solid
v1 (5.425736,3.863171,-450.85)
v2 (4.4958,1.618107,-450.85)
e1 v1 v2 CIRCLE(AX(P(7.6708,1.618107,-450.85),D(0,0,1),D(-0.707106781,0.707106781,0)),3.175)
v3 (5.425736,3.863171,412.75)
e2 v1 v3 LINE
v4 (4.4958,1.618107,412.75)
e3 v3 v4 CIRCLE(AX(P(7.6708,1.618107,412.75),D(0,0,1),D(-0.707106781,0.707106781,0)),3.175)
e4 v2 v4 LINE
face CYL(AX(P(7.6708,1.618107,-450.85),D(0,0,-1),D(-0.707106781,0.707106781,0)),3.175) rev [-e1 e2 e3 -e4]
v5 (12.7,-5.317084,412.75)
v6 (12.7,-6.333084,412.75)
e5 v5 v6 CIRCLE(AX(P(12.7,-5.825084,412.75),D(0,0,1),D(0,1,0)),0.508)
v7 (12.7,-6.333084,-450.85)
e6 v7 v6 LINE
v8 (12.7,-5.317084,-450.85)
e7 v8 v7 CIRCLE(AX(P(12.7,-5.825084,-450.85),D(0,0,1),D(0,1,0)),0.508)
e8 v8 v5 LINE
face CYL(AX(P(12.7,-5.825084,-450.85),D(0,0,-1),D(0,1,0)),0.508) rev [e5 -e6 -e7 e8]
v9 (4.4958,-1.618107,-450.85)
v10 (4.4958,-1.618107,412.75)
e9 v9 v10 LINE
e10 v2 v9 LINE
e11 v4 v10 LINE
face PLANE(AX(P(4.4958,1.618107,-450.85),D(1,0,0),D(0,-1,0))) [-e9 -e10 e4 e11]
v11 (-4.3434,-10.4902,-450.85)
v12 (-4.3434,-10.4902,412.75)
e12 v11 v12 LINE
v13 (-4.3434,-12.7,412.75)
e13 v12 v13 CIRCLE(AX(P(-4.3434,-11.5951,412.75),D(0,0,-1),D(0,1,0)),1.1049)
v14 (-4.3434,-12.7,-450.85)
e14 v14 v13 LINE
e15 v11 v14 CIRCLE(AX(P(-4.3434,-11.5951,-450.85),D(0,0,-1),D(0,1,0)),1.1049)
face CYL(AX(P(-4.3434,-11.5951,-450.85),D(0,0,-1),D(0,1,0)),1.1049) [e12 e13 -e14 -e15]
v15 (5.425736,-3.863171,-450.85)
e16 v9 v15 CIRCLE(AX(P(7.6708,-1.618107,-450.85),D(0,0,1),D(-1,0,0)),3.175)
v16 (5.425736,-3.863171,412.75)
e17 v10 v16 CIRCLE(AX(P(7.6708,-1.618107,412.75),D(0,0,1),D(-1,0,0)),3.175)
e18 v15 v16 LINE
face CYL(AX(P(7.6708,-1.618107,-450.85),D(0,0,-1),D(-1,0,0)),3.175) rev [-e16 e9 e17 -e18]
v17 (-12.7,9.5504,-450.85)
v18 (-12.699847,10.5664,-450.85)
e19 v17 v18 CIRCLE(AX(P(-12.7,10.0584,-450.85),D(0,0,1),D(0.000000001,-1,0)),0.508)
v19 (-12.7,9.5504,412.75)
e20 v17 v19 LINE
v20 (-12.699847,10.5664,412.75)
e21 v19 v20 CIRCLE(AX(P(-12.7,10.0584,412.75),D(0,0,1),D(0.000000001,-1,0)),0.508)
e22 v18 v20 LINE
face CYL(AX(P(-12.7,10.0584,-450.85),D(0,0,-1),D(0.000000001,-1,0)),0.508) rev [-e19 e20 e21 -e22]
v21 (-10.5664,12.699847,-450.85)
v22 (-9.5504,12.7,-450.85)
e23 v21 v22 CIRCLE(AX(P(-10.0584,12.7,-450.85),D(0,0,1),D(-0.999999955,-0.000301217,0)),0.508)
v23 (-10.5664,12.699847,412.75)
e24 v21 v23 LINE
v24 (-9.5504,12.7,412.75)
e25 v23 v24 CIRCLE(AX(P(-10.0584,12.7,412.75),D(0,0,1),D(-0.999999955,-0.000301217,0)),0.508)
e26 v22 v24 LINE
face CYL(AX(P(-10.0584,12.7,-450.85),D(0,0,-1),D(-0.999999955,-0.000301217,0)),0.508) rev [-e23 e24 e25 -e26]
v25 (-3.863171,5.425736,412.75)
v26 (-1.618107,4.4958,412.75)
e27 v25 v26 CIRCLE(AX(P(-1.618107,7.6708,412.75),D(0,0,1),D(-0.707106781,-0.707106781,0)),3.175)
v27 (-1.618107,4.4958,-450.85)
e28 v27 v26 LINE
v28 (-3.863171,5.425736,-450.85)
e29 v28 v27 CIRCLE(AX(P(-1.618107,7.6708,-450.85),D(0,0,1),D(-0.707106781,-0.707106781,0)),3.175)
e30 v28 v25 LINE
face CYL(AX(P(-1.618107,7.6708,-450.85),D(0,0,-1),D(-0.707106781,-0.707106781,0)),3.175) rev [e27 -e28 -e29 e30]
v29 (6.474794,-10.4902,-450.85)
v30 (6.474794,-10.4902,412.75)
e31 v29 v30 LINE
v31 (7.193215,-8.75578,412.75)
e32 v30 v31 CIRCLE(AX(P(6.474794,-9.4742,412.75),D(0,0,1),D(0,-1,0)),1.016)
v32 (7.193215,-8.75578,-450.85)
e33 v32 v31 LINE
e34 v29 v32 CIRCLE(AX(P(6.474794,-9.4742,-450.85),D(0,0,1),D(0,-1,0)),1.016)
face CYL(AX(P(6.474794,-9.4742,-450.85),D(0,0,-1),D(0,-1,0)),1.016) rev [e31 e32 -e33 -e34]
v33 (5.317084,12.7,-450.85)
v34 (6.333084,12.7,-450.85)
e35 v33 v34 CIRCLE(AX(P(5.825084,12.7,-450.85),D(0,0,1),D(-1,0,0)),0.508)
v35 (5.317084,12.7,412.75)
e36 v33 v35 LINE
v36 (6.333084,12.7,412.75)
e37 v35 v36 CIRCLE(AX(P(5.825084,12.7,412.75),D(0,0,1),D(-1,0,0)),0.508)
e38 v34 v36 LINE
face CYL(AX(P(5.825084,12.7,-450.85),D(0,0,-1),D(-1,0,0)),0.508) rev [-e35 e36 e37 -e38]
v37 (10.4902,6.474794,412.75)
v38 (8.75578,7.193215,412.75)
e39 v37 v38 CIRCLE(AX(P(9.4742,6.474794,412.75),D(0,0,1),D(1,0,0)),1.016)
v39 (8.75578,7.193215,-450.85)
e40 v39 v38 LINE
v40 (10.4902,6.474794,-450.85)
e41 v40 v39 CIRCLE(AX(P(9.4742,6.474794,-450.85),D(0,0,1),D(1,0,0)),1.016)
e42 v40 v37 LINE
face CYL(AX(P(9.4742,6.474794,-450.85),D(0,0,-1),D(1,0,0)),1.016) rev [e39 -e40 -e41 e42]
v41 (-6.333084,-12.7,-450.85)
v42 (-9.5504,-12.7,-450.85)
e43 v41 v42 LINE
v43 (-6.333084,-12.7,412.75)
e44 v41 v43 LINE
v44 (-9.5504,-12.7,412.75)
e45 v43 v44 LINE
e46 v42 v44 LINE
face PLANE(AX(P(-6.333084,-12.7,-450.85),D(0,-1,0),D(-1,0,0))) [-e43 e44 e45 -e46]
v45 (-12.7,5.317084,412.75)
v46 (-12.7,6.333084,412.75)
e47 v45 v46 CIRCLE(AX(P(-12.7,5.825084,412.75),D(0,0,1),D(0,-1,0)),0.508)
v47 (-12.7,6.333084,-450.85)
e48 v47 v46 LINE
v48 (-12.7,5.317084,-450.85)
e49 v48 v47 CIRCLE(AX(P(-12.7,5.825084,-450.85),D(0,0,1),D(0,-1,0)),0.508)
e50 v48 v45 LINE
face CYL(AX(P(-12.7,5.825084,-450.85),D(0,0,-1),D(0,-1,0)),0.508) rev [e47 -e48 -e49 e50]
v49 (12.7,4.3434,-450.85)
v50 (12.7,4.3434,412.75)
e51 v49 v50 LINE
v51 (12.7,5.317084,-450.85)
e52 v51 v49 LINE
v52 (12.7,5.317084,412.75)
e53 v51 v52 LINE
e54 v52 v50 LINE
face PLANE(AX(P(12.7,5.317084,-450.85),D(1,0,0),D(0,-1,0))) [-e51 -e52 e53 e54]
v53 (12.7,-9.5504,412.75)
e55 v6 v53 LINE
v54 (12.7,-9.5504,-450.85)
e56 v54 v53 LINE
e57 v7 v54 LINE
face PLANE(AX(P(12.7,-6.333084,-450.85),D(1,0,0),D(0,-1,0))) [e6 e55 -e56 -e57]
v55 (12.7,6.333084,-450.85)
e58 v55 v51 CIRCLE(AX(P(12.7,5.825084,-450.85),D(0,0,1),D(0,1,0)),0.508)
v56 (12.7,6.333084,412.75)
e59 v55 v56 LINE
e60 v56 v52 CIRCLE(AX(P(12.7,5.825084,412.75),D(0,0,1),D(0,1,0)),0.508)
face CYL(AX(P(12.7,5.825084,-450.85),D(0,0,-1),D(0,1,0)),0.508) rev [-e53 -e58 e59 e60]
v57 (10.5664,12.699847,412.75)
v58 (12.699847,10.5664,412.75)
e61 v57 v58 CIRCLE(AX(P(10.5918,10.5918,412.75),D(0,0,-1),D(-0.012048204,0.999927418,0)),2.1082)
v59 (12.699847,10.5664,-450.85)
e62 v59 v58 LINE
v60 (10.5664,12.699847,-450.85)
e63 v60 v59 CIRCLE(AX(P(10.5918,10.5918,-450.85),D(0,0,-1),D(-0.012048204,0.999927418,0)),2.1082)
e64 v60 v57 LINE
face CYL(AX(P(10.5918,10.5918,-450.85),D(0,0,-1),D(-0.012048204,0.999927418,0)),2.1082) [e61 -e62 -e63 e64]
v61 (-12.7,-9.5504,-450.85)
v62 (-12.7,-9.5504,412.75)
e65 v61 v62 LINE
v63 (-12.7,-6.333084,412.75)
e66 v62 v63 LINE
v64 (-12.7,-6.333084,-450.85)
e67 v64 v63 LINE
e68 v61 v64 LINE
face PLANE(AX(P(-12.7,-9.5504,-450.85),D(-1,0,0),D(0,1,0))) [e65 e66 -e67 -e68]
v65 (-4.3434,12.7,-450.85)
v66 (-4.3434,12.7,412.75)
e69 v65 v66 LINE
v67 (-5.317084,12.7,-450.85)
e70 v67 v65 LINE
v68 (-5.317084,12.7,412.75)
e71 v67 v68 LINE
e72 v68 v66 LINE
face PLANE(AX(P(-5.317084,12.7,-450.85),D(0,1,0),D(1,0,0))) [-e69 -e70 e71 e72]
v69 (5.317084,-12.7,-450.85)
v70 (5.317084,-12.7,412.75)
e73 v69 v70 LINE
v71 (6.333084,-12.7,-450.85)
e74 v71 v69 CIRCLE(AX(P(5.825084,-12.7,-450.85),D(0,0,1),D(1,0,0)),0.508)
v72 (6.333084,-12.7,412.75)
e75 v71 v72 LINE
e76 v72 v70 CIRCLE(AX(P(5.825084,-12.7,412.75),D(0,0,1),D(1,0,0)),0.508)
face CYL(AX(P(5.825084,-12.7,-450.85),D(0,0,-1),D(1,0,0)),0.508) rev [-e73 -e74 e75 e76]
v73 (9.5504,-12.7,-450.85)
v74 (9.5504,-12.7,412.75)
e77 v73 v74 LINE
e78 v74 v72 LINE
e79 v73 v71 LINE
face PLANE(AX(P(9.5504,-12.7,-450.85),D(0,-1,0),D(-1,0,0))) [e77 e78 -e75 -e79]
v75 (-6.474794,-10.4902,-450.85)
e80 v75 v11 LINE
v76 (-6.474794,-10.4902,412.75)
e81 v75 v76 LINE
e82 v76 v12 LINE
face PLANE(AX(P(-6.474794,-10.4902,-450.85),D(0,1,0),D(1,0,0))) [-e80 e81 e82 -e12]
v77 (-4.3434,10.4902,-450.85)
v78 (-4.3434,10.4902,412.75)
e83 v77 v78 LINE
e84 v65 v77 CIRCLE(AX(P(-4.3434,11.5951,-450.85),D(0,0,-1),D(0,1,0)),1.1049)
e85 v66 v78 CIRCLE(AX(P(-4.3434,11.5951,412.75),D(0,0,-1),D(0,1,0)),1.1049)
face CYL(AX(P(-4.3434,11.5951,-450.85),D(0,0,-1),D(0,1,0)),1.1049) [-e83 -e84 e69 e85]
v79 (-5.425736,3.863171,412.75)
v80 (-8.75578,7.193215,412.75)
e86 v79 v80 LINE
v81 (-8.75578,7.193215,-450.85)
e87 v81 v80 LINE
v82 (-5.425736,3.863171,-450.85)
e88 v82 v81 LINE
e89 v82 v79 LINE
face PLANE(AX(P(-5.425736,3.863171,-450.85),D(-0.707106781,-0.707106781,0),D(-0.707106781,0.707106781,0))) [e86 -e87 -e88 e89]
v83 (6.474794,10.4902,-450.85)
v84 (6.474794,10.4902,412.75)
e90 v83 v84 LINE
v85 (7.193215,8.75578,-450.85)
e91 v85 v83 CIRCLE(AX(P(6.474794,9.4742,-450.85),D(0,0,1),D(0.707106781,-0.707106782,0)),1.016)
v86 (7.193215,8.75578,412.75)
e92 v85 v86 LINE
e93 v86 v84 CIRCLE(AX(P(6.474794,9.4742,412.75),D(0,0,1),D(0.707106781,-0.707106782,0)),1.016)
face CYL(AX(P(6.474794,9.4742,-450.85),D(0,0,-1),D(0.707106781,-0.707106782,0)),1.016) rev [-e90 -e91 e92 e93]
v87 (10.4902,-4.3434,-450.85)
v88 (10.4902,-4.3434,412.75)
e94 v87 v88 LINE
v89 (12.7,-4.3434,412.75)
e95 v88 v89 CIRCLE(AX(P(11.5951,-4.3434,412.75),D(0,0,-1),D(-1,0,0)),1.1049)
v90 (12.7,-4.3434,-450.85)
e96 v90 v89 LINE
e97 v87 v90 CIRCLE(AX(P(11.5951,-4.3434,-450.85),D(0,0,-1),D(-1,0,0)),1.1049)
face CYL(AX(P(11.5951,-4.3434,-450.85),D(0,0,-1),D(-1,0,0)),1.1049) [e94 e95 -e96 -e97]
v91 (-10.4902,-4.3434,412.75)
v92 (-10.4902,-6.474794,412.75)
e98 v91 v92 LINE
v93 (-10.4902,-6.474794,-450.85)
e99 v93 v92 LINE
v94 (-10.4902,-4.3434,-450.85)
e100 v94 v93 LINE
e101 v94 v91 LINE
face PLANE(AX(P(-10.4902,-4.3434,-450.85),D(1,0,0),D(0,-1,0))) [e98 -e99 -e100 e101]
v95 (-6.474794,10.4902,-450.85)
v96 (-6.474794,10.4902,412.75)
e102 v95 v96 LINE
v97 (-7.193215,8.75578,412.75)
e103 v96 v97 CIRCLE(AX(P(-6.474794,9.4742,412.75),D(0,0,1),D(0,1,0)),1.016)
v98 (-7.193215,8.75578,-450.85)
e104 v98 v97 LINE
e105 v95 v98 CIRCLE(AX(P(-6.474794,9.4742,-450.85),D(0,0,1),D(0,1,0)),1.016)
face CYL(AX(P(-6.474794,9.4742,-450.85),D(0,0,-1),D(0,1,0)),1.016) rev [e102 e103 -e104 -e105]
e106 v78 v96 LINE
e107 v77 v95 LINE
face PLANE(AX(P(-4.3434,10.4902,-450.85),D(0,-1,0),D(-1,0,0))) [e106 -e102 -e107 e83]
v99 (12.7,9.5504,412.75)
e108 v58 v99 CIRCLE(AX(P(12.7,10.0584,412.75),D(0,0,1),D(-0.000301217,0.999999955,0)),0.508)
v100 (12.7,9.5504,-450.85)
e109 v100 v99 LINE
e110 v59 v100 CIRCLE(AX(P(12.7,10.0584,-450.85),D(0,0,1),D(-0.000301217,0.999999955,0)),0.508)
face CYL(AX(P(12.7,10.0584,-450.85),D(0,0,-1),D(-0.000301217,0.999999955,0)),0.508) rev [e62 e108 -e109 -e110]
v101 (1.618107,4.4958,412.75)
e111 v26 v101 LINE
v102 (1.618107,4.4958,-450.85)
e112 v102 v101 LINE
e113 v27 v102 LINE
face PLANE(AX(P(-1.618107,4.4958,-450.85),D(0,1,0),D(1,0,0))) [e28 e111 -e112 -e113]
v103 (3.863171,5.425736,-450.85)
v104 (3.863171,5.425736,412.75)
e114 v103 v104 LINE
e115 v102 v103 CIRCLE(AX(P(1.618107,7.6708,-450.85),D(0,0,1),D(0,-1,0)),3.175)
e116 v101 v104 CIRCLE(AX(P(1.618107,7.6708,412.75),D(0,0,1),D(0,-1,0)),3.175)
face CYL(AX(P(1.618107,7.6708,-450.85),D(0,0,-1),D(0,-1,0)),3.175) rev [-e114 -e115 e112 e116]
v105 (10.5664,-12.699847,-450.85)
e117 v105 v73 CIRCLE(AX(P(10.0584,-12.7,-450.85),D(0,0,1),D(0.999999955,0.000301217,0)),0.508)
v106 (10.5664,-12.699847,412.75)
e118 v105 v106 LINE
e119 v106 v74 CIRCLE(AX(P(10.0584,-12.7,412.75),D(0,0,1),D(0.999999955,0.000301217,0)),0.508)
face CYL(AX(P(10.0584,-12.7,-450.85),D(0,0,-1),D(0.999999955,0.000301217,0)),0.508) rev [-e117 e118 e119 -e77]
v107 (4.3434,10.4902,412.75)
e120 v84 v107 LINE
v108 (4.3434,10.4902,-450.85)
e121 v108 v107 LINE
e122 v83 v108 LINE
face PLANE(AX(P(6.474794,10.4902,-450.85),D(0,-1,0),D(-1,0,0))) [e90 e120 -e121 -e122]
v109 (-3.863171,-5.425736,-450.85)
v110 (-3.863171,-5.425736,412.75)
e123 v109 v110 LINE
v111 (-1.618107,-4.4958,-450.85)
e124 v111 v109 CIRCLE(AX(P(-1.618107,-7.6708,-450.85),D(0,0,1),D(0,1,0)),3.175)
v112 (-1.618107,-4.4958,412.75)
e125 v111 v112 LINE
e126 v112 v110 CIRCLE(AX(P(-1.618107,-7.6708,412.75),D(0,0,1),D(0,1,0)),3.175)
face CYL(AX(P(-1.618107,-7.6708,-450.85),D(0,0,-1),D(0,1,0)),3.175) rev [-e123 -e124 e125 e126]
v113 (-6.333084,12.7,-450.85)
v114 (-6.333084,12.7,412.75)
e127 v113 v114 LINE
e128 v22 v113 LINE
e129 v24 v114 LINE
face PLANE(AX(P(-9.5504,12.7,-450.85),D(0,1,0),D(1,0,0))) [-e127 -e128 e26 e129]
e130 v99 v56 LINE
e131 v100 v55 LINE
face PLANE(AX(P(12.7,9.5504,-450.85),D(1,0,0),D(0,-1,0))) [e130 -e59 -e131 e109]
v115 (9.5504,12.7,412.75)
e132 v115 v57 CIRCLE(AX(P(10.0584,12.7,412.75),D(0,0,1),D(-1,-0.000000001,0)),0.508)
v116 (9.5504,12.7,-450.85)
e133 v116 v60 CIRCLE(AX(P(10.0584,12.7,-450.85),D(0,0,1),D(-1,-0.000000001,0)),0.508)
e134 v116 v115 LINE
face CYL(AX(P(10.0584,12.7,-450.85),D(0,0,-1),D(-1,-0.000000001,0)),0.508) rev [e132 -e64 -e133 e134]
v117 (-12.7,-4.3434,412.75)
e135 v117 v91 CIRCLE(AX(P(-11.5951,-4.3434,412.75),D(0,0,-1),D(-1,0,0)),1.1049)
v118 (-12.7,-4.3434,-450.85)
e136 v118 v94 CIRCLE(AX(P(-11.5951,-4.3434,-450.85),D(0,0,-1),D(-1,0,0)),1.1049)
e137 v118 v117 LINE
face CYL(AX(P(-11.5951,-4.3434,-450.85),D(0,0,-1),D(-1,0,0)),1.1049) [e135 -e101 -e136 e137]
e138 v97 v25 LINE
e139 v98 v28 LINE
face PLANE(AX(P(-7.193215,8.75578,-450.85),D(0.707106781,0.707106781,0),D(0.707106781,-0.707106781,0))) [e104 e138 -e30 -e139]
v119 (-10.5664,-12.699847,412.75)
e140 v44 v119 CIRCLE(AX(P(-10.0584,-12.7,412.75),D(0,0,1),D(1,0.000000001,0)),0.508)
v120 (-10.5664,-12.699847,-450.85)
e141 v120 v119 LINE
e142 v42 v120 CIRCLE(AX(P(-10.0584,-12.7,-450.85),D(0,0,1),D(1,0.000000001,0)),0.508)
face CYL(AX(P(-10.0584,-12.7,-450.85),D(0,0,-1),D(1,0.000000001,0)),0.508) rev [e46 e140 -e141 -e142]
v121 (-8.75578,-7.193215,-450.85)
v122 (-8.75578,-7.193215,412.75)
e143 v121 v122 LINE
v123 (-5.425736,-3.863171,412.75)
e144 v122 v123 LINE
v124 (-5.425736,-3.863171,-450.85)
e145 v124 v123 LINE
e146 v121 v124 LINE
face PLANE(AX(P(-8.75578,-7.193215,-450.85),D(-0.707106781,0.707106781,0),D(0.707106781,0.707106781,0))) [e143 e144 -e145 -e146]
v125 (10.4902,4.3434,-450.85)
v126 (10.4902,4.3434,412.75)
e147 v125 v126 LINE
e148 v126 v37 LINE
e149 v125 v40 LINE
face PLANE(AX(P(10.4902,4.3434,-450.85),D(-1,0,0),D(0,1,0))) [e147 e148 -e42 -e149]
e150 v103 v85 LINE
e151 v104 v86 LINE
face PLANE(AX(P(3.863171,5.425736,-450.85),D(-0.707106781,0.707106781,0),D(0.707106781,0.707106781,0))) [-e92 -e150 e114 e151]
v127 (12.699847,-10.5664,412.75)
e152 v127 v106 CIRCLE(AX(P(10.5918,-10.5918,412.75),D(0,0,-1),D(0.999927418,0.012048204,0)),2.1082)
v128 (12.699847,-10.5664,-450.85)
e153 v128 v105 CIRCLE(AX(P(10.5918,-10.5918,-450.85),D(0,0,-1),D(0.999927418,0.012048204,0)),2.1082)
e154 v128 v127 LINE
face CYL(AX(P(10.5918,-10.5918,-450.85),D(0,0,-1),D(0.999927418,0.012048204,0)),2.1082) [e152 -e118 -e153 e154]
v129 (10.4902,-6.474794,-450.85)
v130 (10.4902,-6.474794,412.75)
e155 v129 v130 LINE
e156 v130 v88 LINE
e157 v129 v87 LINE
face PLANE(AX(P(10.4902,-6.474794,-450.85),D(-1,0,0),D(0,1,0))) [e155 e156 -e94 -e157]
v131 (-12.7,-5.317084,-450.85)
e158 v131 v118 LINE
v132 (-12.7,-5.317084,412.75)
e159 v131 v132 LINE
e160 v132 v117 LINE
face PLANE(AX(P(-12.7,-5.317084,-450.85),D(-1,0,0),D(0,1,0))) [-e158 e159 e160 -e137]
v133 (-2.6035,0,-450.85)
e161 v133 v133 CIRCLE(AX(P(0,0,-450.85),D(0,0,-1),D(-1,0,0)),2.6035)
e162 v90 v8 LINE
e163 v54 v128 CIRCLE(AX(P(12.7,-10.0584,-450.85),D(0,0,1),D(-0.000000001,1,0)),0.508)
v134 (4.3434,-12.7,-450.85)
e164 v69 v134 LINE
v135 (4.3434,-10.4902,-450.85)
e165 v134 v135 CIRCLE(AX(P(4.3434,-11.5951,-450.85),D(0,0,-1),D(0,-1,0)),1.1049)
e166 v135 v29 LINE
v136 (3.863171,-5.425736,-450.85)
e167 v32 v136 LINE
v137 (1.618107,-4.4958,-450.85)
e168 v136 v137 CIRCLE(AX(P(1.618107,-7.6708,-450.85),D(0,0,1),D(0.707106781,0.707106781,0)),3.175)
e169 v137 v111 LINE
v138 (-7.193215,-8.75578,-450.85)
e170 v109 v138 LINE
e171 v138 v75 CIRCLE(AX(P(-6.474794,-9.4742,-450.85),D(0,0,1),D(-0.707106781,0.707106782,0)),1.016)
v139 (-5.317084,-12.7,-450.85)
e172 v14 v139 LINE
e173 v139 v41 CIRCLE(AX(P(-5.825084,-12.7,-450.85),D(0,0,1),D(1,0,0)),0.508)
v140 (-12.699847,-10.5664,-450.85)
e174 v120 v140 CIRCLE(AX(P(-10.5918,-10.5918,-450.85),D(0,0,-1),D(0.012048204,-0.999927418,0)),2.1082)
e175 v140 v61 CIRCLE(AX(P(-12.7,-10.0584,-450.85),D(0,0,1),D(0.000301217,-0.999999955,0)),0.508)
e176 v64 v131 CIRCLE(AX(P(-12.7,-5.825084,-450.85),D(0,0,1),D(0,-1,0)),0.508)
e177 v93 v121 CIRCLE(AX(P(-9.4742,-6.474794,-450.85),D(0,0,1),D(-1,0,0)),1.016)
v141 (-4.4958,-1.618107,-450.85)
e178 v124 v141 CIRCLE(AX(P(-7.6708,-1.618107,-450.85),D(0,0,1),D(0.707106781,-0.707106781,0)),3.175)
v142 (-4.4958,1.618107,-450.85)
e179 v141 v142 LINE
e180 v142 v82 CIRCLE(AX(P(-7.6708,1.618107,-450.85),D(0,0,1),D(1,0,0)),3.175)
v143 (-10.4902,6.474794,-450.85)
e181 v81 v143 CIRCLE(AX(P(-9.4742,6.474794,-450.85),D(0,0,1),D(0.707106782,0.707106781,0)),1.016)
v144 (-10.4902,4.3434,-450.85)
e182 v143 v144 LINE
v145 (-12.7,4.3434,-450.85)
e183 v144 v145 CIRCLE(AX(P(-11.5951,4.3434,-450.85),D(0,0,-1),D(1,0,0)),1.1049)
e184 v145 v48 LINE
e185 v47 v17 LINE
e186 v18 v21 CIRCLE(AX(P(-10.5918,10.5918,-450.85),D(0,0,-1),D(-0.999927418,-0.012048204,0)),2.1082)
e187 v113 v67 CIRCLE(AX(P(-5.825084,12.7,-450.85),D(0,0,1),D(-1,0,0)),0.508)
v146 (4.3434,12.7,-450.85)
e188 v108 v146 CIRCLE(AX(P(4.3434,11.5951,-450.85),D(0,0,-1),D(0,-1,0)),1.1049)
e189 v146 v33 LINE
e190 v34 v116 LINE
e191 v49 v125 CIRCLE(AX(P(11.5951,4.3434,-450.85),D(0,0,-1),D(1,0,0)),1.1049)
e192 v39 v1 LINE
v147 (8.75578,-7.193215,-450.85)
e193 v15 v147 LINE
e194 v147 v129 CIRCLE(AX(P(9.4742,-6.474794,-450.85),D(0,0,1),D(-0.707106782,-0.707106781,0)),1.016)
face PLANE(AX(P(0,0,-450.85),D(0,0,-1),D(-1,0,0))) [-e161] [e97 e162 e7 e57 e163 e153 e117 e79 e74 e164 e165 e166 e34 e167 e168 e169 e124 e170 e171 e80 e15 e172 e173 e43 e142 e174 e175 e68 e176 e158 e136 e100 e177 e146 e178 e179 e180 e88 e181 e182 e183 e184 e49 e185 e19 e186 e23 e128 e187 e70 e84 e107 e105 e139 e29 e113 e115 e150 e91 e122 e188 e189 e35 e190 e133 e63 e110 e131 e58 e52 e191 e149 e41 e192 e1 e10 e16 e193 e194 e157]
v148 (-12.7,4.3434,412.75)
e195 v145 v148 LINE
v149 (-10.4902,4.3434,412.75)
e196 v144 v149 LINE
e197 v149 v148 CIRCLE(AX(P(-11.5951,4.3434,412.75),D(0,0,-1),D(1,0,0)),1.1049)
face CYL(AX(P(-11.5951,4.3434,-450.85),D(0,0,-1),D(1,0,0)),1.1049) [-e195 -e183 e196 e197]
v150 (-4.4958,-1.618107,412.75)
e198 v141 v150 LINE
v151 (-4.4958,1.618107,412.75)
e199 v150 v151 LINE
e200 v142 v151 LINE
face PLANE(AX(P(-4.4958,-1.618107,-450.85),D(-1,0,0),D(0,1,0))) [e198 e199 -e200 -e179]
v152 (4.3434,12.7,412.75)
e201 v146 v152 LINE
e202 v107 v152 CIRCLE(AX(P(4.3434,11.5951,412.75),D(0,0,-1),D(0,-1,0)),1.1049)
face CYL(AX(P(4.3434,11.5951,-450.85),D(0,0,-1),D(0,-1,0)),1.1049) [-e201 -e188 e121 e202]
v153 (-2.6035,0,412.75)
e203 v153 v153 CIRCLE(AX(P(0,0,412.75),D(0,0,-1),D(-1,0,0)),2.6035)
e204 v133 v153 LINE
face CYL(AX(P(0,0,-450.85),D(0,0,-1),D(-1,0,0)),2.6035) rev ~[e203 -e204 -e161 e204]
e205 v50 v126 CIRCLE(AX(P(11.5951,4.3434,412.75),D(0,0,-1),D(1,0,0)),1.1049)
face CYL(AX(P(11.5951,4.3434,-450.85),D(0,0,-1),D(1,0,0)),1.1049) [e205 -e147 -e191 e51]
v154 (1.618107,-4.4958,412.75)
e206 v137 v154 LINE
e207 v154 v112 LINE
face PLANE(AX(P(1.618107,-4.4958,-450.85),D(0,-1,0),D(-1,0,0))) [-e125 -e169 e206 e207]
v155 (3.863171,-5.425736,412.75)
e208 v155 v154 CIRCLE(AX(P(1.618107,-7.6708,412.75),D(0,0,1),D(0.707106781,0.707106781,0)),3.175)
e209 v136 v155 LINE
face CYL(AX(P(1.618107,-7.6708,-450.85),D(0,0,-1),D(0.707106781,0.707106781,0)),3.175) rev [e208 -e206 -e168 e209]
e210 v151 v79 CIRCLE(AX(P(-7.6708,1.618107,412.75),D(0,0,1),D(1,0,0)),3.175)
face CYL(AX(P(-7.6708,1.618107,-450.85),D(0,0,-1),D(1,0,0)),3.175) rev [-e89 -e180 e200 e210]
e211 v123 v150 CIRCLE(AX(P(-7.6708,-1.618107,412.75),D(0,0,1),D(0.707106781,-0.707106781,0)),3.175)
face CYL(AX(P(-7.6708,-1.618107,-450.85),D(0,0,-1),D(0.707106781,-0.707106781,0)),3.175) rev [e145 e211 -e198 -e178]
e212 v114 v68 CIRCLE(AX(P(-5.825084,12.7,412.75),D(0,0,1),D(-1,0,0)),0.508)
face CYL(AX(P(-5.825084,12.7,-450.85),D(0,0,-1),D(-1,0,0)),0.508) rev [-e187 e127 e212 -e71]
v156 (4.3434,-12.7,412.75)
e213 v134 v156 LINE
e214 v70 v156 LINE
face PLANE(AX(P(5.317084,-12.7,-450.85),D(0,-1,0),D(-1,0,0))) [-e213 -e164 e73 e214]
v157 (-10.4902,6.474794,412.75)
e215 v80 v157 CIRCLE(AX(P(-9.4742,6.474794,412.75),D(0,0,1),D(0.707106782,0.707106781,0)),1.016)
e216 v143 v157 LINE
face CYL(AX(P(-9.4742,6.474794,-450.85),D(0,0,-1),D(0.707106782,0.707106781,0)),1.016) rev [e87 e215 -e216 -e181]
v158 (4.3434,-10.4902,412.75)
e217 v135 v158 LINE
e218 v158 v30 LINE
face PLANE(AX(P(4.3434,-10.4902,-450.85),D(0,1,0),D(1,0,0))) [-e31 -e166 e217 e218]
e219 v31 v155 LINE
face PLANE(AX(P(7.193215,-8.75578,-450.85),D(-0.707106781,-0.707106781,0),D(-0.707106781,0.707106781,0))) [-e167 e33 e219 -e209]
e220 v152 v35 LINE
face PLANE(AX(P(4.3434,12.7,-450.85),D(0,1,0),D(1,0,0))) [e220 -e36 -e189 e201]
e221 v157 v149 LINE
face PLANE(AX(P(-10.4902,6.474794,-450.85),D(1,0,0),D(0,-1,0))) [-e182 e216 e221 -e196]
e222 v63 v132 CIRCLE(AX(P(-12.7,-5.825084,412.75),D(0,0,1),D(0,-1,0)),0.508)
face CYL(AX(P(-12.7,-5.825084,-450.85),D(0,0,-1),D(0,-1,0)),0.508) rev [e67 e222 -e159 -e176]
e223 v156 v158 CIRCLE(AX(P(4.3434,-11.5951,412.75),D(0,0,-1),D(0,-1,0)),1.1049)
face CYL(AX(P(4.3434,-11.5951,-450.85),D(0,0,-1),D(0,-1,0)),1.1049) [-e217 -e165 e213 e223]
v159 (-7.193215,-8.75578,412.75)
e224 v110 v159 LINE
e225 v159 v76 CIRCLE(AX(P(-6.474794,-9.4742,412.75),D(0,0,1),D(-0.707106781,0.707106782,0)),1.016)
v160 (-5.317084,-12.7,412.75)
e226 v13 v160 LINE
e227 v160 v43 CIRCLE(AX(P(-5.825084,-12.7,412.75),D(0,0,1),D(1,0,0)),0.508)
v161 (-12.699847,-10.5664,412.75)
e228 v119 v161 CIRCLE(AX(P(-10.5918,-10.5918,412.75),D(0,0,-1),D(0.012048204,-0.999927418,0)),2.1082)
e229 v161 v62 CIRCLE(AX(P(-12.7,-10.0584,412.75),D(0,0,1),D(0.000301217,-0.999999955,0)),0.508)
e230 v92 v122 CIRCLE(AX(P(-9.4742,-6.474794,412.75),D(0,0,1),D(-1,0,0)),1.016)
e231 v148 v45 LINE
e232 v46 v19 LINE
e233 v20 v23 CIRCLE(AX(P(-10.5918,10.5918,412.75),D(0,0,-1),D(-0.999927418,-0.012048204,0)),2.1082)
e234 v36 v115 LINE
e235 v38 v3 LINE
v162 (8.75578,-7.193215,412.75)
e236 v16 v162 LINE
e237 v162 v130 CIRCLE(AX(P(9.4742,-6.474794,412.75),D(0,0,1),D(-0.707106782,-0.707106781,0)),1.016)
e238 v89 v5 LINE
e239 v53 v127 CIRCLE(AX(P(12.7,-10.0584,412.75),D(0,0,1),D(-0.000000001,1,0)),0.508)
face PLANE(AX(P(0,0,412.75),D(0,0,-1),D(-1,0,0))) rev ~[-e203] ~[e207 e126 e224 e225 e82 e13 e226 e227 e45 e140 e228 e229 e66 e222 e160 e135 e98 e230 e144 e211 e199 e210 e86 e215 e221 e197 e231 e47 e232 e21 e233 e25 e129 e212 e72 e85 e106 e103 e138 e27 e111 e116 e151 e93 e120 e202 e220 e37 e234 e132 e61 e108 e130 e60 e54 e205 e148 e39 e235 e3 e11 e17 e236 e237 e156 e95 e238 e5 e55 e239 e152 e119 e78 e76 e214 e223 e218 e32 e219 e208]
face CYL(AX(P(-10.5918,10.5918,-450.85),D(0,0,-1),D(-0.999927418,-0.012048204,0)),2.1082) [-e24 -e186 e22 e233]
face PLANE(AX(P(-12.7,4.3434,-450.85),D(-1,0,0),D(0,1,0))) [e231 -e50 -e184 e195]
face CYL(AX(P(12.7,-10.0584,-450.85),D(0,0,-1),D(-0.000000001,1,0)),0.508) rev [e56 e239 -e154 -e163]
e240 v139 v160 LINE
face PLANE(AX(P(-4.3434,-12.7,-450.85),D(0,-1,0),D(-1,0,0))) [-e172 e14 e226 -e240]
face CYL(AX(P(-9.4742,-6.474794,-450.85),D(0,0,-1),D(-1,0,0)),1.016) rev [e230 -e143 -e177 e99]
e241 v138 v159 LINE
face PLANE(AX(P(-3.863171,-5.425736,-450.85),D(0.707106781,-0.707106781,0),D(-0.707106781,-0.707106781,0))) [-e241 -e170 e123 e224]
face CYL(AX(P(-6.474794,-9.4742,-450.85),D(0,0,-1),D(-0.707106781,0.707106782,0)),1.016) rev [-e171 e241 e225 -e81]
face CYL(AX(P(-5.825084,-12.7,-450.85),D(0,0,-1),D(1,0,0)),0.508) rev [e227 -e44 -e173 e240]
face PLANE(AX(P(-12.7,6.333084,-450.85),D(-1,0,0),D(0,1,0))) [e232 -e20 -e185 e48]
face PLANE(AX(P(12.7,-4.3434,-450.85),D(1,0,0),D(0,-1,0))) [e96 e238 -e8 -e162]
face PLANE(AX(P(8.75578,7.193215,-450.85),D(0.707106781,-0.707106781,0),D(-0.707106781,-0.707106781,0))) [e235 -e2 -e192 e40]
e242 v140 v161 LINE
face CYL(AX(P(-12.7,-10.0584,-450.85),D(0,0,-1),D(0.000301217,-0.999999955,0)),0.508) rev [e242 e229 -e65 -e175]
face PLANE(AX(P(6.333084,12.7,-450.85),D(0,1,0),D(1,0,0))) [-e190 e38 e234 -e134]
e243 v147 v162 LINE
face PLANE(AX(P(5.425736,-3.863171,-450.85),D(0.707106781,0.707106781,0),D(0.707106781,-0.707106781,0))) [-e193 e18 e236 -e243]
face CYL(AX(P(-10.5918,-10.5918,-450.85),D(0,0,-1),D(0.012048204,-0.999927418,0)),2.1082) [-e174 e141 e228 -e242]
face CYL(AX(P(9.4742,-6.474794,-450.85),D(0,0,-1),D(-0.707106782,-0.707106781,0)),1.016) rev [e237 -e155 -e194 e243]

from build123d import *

# Parameters (mm, degrees)
SKETCH1_R           = 2.6035
BOSS_EXTRUDE1_DEPTH = 863.6


with BuildPart() as part:
    # Sketch1 → Boss-Extrude1 (new body)
    with BuildSketch(Plane(origin=(0, 0, -450.85), x_dir=(-1, 0, 0), z_dir=(0, 0, -1))):
        with BuildLine():
            Line((12.7, -9.5504), (12.7, -6.3330836))
            ThreePointArc((12.7, -6.3330836), (12.192, -5.8250836), (12.7, -5.3170836))
            Line((12.7, -5.3170836), (12.7, -4.3434))
            ThreePointArc((12.7, -4.3434), (11.5951, -3.2385), (10.4902, -4.3434))
            Line((10.4902, -4.3434), (10.4902, -6.474794456))
            ThreePointArc((10.4902, -6.474794456), (9.863006367, -7.413456061), (8.75577951, -7.193214945))
            Line((8.75577951, -7.193214945), (5.42573597, -3.863171405))
            ThreePointArc((5.42573597, -3.863171405), (4.737482484, -2.833127272), (4.4958, -1.618107374))
            Line((4.4958, -1.618107374), (4.4958, 1.618107374))
            ThreePointArc((4.4958, 1.618107374), (4.737482484, 2.833127272), (5.42573597, 3.863171405))
            Line((5.42573597, 3.863171405), (8.75577951, 7.193214945))
            ThreePointArc((8.75577951, 7.193214945), (9.863006367, 7.413456061), (10.4902, 6.474794456))
            Line((10.4902, 6.474794456), (10.4902, 4.343399971))
            ThreePointArc((10.4902, 4.343399971), (11.5951, 3.238499971), (12.7, 4.343399971))
            Line((12.7, 4.343399971), (12.7, 5.3170836))
            ThreePointArc((12.7, 5.3170836), (12.192, 5.8250836), (12.7, 6.3330836))
            Line((12.7, 6.3330836), (12.7, 9.5504))
            ThreePointArc((12.7, 9.5504), (12.192000006, 10.058323491), (12.699846982, 10.566399977))
            ThreePointArc((12.699846982, 10.566399977), (12.082522516, 12.082522516), (10.566399977, 12.699846982))
            ThreePointArc((10.566399977, 12.699846982), (10.058323491, 12.192000006), (9.5504, 12.7))
            Line((9.5504, 12.7), (6.3330836, 12.7))
            ThreePointArc((6.3330836, 12.7), (5.8250836, 12.192), (5.3170836, 12.7))
            Line((5.3170836, 12.7), (4.3434, 12.7))
            ThreePointArc((4.3434, 12.7), (3.2385, 11.5951), (4.3434, 10.4902))
            Line((4.3434, 10.4902), (6.474794456, 10.4902))
            ThreePointArc((6.474794456, 10.4902), (7.413456061, 9.863006367), (7.193214945, 8.75577951))
            Line((7.193214945, 8.75577951), (3.863171405, 5.42573597))
            ThreePointArc((3.863171405, 5.42573597), (2.833127272, 4.737482484), (1.618107374, 4.4958))
            Line((1.618107374, 4.4958), (-1.618107374, 4.4958))
            ThreePointArc((-1.618107374, 4.4958), (-2.833127272, 4.737482484), (-3.863171405, 5.42573597))
            Line((-3.863171405, 5.42573597), (-7.193214945, 8.75577951))
            ThreePointArc((-7.193214945, 8.75577951), (-7.413456061, 9.863006367), (-6.474794456, 10.4902))
            Line((-6.474794456, 10.4902), (-4.343399971, 10.4902))
            ThreePointArc((-4.343399971, 10.4902), (-3.238499971, 11.5951), (-4.343399971, 12.7))
            Line((-4.343399971, 12.7), (-5.3170836, 12.7))
            ThreePointArc((-5.3170836, 12.7), (-5.8250836, 12.192), (-6.3330836, 12.7))
            Line((-6.3330836, 12.7), (-9.5504, 12.7))
            ThreePointArc((-9.5504, 12.7), (-10.058323491, 12.192000006), (-10.566399977, 12.699846982))
            ThreePointArc((-10.566399977, 12.699846982), (-12.082522516, 12.082522516), (-12.699846982, 10.566399977))
            ThreePointArc((-12.699846982, 10.566399977), (-12.192000006, 10.058323491), (-12.7, 9.5504))
            Line((-12.7, 9.5504), (-12.7, 6.3330836))
            ThreePointArc((-12.7, 6.3330836), (-12.192, 5.8250836), (-12.7, 5.3170836))
            Line((-12.7, 5.3170836), (-12.7, 4.3434))
            ThreePointArc((-12.7, 4.3434), (-11.5951, 3.2385), (-10.4902, 4.3434))
            Line((-10.4902, 4.3434), (-10.4902, 6.474794456))
            ThreePointArc((-10.4902, 6.474794456), (-9.863006367, 7.413456061), (-8.75577951, 7.193214945))
            Line((-8.75577951, 7.193214945), (-5.42573597, 3.863171405))
            ThreePointArc((-5.42573597, 3.863171405), (-4.737482484, 2.833127272), (-4.4958, 1.618107374))
            Line((-4.4958, 1.618107374), (-4.4958, -1.618107374))
            ThreePointArc((-4.4958, -1.618107374), (-4.737482484, -2.833127272), (-5.42573597, -3.863171405))
            Line((-5.42573597, -3.863171405), (-8.75577951, -7.193214945))
            ThreePointArc((-8.75577951, -7.193214945), (-9.863006367, -7.413456061), (-10.4902, -6.474794456))
            Line((-10.4902, -6.474794456), (-10.4902, -4.343399971))
            ThreePointArc((-10.4902, -4.343399971), (-11.5951, -3.238499971), (-12.7, -4.343399971))
            Line((-12.7, -4.343399971), (-12.7, -5.3170836))
            ThreePointArc((-12.7, -5.3170836), (-12.192, -5.8250836), (-12.7, -6.3330836))
            Line((-12.7, -6.3330836), (-12.7, -9.5504))
            ThreePointArc((-12.7, -9.5504), (-12.192000006, -10.058323491), (-12.699846982, -10.566399977))
            ThreePointArc((-12.699846982, -10.566399977), (-12.082522516, -12.082522516), (-10.566399977, -12.699846982))
            ThreePointArc((-10.566399977, -12.699846982), (-10.058323491, -12.192000006), (-9.5504, -12.7))
            Line((-9.5504, -12.7), (-6.3330836, -12.7))
            ThreePointArc((-6.3330836, -12.7), (-5.8250836, -12.192), (-5.3170836, -12.7))
            Line((-5.3170836, -12.7), (-4.3434, -12.7))
            ThreePointArc((-4.3434, -12.7), (-3.2385, -11.5951), (-4.3434, -10.4902))
            Line((-4.3434, -10.4902), (-6.474794456, -10.4902))
            ThreePointArc((-6.474794456, -10.4902), (-7.413456061, -9.863006367), (-7.193214945, -8.75577951))
            Line((-7.193214945, -8.75577951), (-3.863171405, -5.42573597))
            ThreePointArc((-3.863171405, -5.42573597), (-2.833127272, -4.737482484), (-1.618107374, -4.4958))
            Line((-1.618107374, -4.4958), (1.618107374, -4.4958))
            ThreePointArc((1.618107374, -4.4958), (2.833127272, -4.737482484), (3.863171405, -5.42573597))
            Line((3.863171405, -5.42573597), (7.193214945, -8.75577951))
            ThreePointArc((7.193214945, -8.75577951), (7.413456061, -9.863006367), (6.474794456, -10.4902))
            Line((6.474794456, -10.4902), (4.343399971, -10.4902))
            ThreePointArc((4.343399971, -10.4902), (3.238499971, -11.5951), (4.343399971, -12.7))
            Line((4.343399971, -12.7), (5.3170836, -12.7))
            ThreePointArc((5.3170836, -12.7), (5.8250836, -12.192), (6.3330836, -12.7))
            Line((6.3330836, -12.7), (9.5504, -12.7))
            ThreePointArc((9.5504, -12.7), (10.058323491, -12.192000006), (10.566399977, -12.699846982))
            ThreePointArc((10.566399977, -12.699846982), (12.082522516, -12.082522516), (12.699846982, -10.566399977))
            ThreePointArc((12.699846982, -10.566399977), (12.192000006, -10.058323491), (12.7, -9.5504))
        make_face()
        Circle(SKETCH1_R, mode=Mode.SUBTRACT)
    extrude(amount=-BOSS_EXTRUDE1_DEPTH)


solid = part.part
